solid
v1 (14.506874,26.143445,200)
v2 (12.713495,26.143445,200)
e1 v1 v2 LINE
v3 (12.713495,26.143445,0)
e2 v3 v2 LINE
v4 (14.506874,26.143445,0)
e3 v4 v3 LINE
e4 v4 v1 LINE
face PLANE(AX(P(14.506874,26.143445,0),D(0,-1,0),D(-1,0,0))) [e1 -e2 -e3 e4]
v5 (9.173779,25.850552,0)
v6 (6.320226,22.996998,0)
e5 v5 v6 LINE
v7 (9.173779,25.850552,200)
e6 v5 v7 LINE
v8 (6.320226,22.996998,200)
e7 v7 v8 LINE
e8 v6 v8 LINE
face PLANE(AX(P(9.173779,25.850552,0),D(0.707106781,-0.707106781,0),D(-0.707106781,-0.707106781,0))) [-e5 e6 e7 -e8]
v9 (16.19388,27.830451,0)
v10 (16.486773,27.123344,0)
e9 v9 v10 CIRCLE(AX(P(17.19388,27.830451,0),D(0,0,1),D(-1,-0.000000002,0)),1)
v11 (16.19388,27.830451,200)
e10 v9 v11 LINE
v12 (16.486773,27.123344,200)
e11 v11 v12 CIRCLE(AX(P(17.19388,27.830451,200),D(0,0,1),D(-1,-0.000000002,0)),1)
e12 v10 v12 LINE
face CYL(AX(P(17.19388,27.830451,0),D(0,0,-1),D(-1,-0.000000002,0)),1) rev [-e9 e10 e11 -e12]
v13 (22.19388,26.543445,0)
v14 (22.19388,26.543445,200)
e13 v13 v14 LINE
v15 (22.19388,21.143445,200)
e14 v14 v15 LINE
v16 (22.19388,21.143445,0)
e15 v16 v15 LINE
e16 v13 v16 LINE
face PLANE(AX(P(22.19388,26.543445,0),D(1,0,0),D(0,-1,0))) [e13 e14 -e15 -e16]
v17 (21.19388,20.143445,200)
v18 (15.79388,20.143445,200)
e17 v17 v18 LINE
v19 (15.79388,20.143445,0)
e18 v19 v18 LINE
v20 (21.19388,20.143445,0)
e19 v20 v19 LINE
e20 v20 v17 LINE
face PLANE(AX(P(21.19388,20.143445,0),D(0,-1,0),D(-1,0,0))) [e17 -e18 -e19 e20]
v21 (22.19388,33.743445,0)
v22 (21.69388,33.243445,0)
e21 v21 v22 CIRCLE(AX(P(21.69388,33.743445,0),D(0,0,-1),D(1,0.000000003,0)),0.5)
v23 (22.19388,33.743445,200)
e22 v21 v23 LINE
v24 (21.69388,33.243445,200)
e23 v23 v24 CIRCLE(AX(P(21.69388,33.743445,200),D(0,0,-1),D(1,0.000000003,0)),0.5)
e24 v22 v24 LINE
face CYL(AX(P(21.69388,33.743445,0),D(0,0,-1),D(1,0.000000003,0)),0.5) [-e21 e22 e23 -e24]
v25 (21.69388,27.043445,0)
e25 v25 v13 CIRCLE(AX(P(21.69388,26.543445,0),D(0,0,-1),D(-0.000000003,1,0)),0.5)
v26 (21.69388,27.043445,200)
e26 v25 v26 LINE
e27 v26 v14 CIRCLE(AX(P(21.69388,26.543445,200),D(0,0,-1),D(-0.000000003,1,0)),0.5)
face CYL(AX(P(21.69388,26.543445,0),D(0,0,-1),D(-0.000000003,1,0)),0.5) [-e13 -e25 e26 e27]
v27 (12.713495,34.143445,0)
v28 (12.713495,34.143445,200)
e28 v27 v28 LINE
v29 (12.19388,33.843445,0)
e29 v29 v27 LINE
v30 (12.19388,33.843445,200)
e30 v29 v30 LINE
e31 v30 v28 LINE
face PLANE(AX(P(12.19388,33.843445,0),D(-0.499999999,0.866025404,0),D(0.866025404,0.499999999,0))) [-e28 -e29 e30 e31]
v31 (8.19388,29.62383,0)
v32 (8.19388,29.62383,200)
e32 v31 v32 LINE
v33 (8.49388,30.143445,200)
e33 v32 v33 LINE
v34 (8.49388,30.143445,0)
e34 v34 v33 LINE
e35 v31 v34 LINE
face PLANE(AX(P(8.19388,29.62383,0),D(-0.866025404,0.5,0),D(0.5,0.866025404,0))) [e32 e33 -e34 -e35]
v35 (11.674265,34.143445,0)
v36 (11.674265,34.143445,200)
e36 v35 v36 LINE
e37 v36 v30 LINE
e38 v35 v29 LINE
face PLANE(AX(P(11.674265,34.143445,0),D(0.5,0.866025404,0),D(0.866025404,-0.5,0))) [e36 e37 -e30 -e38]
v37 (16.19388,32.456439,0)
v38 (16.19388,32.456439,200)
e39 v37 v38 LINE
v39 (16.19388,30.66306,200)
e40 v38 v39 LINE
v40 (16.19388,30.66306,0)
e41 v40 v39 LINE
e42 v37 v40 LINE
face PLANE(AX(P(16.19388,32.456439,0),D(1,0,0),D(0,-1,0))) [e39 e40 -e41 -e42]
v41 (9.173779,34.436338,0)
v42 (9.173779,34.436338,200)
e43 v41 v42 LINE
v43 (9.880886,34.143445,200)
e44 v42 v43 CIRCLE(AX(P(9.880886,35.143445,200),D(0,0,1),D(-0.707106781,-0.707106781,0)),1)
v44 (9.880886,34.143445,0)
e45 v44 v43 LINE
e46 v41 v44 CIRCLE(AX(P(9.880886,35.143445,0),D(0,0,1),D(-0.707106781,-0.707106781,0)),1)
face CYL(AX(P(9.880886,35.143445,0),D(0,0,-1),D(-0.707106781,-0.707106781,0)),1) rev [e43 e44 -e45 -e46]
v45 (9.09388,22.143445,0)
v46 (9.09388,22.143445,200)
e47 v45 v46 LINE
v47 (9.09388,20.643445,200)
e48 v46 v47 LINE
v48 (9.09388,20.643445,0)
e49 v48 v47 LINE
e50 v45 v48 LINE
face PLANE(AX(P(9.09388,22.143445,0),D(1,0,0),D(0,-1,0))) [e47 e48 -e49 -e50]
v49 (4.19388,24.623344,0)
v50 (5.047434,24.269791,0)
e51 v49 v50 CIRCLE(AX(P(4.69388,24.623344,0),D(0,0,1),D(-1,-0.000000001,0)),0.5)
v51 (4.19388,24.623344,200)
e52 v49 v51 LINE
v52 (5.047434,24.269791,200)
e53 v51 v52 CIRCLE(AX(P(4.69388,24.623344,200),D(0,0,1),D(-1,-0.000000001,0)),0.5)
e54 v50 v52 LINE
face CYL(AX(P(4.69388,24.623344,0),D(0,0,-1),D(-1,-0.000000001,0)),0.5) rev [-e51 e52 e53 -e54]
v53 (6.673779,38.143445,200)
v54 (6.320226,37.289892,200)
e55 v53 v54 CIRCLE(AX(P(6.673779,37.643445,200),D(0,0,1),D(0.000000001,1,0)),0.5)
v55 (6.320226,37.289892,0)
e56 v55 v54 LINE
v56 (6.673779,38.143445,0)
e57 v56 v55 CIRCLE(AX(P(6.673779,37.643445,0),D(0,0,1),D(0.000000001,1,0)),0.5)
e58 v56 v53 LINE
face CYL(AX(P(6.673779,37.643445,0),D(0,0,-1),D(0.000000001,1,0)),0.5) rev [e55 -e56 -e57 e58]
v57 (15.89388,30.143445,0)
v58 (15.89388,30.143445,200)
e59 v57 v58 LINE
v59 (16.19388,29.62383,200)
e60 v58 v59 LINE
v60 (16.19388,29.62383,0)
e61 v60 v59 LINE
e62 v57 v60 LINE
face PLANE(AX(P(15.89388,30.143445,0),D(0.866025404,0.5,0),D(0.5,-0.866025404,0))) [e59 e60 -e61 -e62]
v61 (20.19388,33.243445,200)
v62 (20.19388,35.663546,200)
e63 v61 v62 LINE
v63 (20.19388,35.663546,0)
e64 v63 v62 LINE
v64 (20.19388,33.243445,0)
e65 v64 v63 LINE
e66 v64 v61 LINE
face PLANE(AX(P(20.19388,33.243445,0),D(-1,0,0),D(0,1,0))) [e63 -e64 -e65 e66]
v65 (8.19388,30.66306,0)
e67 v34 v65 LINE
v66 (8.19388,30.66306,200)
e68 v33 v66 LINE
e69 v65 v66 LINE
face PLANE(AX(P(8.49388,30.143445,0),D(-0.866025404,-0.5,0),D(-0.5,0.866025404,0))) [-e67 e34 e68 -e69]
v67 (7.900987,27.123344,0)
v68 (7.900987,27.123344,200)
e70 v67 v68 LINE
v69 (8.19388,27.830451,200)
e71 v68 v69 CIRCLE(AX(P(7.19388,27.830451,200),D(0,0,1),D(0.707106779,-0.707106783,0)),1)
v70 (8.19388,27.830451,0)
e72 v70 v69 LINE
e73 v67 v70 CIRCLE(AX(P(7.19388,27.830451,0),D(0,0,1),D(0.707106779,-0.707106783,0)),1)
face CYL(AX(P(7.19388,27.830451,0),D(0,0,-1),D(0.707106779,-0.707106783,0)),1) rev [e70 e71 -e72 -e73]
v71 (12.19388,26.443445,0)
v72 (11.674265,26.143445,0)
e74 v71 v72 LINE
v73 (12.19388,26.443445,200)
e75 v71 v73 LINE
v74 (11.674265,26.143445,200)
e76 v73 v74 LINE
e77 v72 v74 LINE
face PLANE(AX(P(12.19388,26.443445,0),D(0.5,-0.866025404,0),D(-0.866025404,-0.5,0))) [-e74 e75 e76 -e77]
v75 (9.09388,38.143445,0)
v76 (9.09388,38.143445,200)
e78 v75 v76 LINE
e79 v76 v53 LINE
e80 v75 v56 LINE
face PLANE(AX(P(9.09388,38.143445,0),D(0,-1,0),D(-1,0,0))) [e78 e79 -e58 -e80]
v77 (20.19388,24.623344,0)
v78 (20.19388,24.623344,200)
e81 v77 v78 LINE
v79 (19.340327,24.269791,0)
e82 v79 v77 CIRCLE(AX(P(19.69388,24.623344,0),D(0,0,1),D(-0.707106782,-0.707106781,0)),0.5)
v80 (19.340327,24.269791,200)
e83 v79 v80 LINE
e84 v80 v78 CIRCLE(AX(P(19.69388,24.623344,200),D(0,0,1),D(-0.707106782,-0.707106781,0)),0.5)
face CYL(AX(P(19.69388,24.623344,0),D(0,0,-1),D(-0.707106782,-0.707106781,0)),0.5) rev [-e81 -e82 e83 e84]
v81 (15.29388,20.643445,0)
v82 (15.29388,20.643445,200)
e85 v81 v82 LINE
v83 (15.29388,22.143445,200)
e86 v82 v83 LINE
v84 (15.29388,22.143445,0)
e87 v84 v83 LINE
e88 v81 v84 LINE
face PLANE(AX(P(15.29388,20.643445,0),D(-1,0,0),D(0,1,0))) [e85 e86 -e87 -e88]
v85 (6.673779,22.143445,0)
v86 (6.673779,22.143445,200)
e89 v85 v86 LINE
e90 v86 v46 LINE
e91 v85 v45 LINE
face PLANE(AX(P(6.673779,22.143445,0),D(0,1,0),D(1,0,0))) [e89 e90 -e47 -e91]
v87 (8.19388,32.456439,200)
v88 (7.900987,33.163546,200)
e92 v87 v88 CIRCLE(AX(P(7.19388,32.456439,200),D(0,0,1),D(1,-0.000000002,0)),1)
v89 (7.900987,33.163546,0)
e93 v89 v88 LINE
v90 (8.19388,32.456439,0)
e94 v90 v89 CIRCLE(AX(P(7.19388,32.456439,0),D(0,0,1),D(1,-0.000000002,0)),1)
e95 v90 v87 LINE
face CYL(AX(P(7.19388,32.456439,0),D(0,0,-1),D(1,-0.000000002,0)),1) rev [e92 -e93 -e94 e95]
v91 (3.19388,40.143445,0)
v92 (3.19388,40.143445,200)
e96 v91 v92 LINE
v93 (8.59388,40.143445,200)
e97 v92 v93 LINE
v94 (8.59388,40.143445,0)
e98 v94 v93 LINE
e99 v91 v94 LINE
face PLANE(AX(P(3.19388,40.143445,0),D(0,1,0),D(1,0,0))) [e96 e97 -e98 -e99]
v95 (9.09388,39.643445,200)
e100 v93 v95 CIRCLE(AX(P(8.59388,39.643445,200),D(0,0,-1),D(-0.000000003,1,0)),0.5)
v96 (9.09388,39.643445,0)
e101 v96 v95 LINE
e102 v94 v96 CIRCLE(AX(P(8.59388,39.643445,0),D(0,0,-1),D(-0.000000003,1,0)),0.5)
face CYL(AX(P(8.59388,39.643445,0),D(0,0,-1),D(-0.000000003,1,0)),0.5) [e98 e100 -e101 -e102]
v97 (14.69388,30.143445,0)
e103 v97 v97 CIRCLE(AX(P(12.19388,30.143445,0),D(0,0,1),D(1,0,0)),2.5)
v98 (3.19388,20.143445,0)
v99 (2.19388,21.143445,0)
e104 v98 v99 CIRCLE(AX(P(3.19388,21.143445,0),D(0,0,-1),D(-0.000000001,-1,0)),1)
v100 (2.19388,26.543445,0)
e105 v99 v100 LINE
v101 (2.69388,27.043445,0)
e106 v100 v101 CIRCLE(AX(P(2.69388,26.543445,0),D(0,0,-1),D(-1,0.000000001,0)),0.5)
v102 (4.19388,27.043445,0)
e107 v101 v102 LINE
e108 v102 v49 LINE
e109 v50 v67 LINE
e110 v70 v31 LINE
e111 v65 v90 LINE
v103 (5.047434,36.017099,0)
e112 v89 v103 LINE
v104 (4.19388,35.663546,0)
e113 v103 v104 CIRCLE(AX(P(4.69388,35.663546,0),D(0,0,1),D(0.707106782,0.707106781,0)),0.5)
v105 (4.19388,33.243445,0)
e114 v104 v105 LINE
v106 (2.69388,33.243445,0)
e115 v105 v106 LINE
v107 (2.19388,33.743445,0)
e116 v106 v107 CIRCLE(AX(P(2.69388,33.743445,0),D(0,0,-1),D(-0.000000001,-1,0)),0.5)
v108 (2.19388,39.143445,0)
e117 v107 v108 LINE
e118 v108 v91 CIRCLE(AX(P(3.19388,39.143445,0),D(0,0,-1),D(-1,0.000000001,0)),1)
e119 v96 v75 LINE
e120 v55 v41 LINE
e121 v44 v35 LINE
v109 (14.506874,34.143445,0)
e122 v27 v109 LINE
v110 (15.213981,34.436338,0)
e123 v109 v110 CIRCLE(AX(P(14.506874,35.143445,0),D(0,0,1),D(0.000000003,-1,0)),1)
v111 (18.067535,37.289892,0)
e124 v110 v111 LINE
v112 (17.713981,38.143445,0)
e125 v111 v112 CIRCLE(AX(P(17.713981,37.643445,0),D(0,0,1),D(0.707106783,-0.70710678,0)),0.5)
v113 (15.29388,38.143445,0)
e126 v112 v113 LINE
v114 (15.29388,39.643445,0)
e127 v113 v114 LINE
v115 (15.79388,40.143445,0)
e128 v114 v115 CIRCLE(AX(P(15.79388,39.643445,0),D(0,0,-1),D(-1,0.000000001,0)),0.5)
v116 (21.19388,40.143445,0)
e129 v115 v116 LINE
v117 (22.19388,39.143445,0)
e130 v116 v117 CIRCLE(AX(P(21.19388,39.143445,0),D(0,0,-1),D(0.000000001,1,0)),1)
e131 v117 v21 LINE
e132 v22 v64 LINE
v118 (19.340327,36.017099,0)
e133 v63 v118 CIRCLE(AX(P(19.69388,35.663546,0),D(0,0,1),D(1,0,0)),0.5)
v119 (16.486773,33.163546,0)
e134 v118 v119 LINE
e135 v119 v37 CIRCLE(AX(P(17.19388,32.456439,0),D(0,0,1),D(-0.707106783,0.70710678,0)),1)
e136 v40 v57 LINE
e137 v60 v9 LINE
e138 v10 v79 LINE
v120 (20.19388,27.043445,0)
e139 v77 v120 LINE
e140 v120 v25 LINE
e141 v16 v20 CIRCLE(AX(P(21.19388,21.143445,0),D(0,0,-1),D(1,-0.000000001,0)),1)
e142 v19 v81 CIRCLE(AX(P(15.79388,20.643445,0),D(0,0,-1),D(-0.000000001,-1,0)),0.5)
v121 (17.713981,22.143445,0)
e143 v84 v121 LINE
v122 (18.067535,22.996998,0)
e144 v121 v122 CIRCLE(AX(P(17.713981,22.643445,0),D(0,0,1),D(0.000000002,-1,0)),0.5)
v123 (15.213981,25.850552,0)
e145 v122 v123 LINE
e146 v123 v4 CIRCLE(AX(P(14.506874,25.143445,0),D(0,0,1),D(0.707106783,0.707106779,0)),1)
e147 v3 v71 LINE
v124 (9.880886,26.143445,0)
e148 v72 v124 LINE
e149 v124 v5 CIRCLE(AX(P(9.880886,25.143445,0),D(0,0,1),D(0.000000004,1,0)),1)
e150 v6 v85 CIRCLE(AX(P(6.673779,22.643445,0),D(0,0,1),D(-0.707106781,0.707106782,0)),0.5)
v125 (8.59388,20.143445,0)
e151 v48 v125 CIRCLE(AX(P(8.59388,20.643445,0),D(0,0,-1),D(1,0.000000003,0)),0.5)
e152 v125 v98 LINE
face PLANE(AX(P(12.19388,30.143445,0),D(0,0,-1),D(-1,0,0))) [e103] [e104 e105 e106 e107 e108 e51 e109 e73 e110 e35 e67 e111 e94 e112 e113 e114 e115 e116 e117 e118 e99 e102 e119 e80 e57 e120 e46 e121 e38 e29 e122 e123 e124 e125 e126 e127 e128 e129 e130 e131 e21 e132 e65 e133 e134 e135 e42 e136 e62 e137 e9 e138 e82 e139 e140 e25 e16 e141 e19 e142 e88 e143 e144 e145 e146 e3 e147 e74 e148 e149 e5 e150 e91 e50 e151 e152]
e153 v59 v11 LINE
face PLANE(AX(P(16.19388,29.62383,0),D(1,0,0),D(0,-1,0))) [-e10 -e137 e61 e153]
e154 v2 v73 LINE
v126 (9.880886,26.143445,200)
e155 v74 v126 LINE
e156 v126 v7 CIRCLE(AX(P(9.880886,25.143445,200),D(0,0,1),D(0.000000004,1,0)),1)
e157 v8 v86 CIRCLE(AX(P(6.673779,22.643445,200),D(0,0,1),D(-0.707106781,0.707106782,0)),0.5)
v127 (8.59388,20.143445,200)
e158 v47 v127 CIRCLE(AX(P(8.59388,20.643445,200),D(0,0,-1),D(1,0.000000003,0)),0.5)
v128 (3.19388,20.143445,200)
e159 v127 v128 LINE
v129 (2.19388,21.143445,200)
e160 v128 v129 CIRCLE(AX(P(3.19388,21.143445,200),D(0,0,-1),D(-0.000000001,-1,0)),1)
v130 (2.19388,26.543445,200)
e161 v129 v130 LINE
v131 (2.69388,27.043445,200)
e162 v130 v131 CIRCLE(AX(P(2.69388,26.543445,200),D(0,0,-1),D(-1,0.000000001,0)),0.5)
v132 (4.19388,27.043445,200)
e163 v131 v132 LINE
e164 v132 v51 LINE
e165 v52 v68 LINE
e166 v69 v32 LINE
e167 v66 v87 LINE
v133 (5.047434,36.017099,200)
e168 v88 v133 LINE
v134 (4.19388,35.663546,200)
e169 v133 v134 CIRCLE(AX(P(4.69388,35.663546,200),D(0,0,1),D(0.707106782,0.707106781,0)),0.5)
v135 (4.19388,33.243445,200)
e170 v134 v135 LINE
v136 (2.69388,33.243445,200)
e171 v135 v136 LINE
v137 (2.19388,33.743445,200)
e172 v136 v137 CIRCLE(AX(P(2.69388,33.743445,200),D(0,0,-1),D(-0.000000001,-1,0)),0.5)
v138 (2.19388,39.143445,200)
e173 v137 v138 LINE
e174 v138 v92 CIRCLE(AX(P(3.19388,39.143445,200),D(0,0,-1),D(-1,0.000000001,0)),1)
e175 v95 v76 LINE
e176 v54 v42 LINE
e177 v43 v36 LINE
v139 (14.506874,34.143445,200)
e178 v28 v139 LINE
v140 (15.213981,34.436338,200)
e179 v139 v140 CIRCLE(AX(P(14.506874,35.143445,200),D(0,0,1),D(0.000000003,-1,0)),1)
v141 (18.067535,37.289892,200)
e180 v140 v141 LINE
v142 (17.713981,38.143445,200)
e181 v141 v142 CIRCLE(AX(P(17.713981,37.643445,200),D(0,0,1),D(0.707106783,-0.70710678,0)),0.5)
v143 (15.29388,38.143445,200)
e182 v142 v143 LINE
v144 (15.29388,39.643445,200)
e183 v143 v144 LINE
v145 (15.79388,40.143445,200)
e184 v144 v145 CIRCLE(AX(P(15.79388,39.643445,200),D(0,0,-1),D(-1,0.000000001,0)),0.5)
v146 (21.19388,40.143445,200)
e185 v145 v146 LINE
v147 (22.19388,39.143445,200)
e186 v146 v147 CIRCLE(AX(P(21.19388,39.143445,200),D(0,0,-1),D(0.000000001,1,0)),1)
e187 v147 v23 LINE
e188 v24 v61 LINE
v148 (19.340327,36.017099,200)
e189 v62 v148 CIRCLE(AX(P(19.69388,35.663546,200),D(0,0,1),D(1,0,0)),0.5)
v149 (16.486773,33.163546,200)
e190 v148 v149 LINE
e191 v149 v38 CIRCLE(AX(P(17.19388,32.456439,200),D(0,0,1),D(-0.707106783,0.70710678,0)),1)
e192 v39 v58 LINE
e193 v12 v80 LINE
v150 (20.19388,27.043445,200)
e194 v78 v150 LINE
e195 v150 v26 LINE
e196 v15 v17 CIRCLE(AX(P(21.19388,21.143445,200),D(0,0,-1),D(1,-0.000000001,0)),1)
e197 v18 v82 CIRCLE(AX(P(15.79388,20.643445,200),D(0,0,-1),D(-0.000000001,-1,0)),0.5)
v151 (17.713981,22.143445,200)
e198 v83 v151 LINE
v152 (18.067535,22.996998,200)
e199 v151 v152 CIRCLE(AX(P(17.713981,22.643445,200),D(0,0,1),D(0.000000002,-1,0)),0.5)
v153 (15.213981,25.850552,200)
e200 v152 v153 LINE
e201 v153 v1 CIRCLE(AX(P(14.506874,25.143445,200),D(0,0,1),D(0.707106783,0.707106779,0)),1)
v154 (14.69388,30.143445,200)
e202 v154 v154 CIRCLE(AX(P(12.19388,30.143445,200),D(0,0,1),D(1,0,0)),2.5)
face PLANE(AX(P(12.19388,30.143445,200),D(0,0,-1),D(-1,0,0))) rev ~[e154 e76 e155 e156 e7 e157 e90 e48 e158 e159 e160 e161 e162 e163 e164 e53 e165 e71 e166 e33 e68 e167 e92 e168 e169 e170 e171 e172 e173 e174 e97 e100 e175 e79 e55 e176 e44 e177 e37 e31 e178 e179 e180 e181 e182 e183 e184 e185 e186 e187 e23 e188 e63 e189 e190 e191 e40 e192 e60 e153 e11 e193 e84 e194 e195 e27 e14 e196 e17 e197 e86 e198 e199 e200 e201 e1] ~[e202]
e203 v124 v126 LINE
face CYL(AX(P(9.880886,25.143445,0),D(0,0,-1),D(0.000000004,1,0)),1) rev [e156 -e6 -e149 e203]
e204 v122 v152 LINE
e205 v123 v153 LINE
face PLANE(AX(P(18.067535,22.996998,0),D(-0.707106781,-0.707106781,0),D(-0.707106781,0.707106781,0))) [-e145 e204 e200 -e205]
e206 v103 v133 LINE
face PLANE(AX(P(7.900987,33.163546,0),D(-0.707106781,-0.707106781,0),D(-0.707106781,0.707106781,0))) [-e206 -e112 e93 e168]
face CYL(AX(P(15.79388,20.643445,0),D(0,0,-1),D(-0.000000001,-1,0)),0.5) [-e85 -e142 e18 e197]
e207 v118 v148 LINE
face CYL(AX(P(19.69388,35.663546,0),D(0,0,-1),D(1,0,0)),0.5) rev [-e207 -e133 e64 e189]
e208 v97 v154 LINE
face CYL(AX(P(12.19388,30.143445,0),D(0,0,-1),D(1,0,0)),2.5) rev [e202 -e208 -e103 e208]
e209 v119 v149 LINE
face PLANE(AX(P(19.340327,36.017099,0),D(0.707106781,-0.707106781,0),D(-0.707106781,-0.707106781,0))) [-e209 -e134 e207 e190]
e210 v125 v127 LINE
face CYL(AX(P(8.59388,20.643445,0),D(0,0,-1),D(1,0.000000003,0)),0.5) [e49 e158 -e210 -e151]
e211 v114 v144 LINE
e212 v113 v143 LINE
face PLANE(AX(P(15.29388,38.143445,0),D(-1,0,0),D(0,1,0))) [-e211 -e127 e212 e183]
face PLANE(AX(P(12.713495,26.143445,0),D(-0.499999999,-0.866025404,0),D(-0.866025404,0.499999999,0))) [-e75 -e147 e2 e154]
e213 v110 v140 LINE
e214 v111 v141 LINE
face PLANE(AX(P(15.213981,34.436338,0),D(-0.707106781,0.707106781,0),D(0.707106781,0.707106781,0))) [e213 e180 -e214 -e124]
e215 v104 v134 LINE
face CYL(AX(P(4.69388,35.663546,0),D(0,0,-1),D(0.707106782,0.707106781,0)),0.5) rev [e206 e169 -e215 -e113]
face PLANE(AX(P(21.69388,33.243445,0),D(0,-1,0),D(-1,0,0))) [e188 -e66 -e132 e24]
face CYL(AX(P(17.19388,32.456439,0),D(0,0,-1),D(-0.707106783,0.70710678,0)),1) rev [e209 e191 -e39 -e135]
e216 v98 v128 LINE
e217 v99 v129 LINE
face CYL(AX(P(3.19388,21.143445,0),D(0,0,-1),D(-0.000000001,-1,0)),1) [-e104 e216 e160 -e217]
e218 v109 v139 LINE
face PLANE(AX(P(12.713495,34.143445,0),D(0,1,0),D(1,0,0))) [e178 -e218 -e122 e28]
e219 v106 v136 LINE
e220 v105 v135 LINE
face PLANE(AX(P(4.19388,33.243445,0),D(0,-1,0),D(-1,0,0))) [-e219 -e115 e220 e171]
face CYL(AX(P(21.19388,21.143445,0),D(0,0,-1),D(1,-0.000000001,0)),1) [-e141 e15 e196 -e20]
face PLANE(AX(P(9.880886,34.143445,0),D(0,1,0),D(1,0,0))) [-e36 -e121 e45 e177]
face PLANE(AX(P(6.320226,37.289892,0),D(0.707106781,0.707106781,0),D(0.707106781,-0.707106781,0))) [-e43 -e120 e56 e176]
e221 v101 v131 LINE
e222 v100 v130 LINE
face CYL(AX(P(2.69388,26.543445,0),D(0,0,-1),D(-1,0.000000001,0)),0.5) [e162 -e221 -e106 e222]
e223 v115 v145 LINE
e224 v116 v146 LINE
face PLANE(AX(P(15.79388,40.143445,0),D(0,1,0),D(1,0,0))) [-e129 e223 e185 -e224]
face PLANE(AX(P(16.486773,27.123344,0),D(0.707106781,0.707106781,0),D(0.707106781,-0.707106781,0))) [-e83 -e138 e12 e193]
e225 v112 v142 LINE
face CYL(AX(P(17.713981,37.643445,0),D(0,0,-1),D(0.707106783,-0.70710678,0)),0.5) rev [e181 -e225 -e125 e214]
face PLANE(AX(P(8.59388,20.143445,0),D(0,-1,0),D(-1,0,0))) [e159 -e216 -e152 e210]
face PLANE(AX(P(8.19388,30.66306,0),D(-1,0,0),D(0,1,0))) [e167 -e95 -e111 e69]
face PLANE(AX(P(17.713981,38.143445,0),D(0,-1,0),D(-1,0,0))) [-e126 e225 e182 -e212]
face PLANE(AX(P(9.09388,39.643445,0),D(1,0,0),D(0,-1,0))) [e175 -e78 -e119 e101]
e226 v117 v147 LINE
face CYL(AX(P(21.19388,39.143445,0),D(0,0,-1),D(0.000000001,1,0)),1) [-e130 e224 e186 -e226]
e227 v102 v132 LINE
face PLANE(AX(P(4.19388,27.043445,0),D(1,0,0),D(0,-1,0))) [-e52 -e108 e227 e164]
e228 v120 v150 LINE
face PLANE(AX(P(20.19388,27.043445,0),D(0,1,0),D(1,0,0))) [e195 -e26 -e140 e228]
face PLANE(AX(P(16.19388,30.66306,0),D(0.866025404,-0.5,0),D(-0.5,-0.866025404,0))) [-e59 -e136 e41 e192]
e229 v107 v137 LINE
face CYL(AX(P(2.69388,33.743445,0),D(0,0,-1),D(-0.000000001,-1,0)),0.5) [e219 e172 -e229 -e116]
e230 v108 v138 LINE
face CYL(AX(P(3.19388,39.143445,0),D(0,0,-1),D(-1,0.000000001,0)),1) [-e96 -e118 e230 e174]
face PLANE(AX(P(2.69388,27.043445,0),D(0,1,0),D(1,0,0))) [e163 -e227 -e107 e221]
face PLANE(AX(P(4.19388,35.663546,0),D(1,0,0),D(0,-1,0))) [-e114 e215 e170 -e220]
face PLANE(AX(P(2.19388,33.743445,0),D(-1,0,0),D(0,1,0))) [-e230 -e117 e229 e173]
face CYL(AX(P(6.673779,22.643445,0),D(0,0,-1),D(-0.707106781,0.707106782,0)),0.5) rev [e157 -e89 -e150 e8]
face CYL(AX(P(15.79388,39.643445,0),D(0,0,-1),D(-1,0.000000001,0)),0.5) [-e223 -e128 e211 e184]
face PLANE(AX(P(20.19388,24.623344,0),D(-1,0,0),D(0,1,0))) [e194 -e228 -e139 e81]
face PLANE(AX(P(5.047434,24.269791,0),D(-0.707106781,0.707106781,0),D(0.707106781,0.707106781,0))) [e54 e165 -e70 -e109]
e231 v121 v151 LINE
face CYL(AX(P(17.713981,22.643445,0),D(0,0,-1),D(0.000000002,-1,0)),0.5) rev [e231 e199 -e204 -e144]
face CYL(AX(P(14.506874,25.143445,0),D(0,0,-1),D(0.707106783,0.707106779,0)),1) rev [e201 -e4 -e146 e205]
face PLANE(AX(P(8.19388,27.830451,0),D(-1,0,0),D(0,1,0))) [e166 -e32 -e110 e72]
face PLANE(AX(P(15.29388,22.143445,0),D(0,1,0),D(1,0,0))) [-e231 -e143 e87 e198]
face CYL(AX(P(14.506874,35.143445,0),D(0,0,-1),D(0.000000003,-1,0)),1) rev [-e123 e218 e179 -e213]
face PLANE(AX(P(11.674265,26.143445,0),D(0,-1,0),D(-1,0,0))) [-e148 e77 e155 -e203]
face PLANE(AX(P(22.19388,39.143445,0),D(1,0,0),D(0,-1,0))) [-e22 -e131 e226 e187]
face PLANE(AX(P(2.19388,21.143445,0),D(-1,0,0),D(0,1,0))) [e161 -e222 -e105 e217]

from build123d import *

# Parameters (mm, degrees)
SKETCH_1_R      = 2.5
EXTRUDE_1_DEPTH = 200


with BuildPart() as part:
    # 草图1 → 凸台-拉伸1 (new body)
    with BuildSketch(Plane.XY):
        with BuildLine():
            Line((16.486773435, 27.123343944), (19.340326826, 24.269790554))
            ThreePointArc((19.340326826, 24.269790554), (19.885221932, 24.161404178), (20.193880216, 24.623343944))
            Line((20.193880216, 24.623343944), (20.193880216, 27.043444957))
            Line((20.193880216, 27.043444957), (21.693880216, 27.043444957))
            ThreePointArc((21.693880216, 27.043444957), (22.047433607, 26.896998348), (22.193880216, 26.543444957))
            Line((22.193880216, 26.543444957), (22.193880216, 21.143444957))
            ThreePointArc((22.193880216, 21.143444957), (21.900986997, 20.436338176), (21.193880216, 20.143444957))
            Line((21.193880216, 20.143444957), (15.793880216, 20.143444957))
            ThreePointArc((15.793880216, 20.143444957), (15.440326826, 20.289891566), (15.293880216, 20.643444957))
            Line((15.293880216, 20.643444957), (15.293880216, 22.143444957))
            Line((15.293880216, 22.143444957), (17.713981229, 22.143444957))
            ThreePointArc((17.713981229, 22.143444957), (18.175920995, 22.452103241), (18.06753462, 22.996998348))
            Line((18.06753462, 22.996998348), (15.213981229, 25.850551738))
            ThreePointArc((15.213981229, 25.850551738), (14.88955788, 26.06732449), (14.506874448, 26.143444957))
            Line((14.506874448, 26.143444957), (12.713495459, 26.143444957))
            Line((12.713495459, 26.143444957), (12.193880216, 26.443444957))
            Line((12.193880216, 26.443444957), (11.674264974, 26.143444957))
            Line((11.674264974, 26.143444957), (9.880885985, 26.143444957))
            ThreePointArc((9.880885985, 26.143444957), (9.498202552, 26.06732449), (9.173779204, 25.850551738))
            Line((9.173779204, 25.850551738), (6.320225813, 22.996998348))
            ThreePointArc((6.320225813, 22.996998348), (6.211839437, 22.452103241), (6.673779204, 22.143444957))
            Line((6.673779204, 22.143444957), (9.093880216, 22.143444957))
            Line((9.093880216, 22.143444957), (9.093880216, 20.643444957))
            ThreePointArc((9.093880216, 20.643444957), (8.947433607, 20.289891566), (8.593880216, 20.143444957))
            Line((8.593880216, 20.143444957), (3.193880216, 20.143444957))
            ThreePointArc((3.193880216, 20.143444957), (2.486773435, 20.436338176), (2.193880216, 21.143444957))
            Line((2.193880216, 21.143444957), (2.193880216, 26.543444957))
            ThreePointArc((2.193880216, 26.543444957), (2.340326826, 26.896998348), (2.693880216, 27.043444957))
            Line((2.693880216, 27.043444957), (4.193880216, 27.043444957))
            Line((4.193880216, 27.043444957), (4.193880216, 24.623343944))
            ThreePointArc((4.193880216, 24.623343944), (4.5025385, 24.161404178), (5.047433607, 24.269790554))
            Line((5.047433607, 24.269790554), (7.900986997, 27.123343944))
            ThreePointArc((7.900986997, 27.123343944), (8.117759749, 27.447767293), (8.193880216, 27.830450726))
            Line((8.193880216, 27.830450726), (8.193880216, 29.623829715))
            Line((8.193880216, 29.623829715), (8.493880216, 30.143444957))
            Line((8.493880216, 30.143444957), (8.193880216, 30.663060199))
            Line((8.193880216, 30.663060199), (8.193880216, 32.456439189))
            ThreePointArc((8.193880216, 32.456439189), (8.117759749, 32.839122621), (7.900986997, 33.16354597))
            Line((7.900986997, 33.16354597), (5.047433607, 36.01709936))
            ThreePointArc((5.047433607, 36.01709936), (4.5025385, 36.125485736), (4.193880216, 35.66354597))
            Line((4.193880216, 35.66354597), (4.193880216, 33.243444957))
            Line((4.193880216, 33.243444957), (2.693880216, 33.243444957))
            ThreePointArc((2.693880216, 33.243444957), (2.340326826, 33.389891566), (2.193880216, 33.743444957))
            Line((2.193880216, 33.743444957), (2.193880216, 39.143444957))
            ThreePointArc((2.193880216, 39.143444957), (2.486773435, 39.850551738), (3.193880216, 40.143444957))
            Line((3.193880216, 40.143444957), (8.593880216, 40.143444957))
            ThreePointArc((8.593880216, 40.143444957), (8.947433607, 39.996998348), (9.093880216, 39.643444957))
            Line((9.093880216, 39.643444957), (9.093880216, 38.143444957))
            Line((9.093880216, 38.143444957), (6.673779204, 38.143444957))
            ThreePointArc((6.673779204, 38.143444957), (6.211839437, 37.834786673), (6.320225813, 37.289891566))
            Line((6.320225813, 37.289891566), (9.173779204, 34.436338176))
            ThreePointArc((9.173779204, 34.436338176), (9.498202552, 34.219565425), (9.880885985, 34.143444957))
            Line((9.880885985, 34.143444957), (11.674264974, 34.143444957))
            Line((11.674264974, 34.143444957), (12.193880216, 33.843444957))
            Line((12.193880216, 33.843444957), (12.713495459, 34.143444957))
            Line((12.713495459, 34.143444957), (14.506874448, 34.143444957))
            ThreePointArc((14.506874448, 34.143444957), (14.88955788, 34.219565425), (15.213981229, 34.436338176))
            Line((15.213981229, 34.436338176), (18.06753462, 37.289891566))
            ThreePointArc((18.06753462, 37.289891566), (18.175920995, 37.834786673), (17.713981229, 38.143444957))
            Line((17.713981229, 38.143444957), (15.293880216, 38.143444957))
            Line((15.293880216, 38.143444957), (15.293880216, 39.643444957))
            ThreePointArc((15.293880216, 39.643444957), (15.440326826, 39.996998348), (15.793880216, 40.143444957))
            Line((15.793880216, 40.143444957), (21.193880216, 40.143444957))
            ThreePointArc((21.193880216, 40.143444957), (21.900986997, 39.850551738), (22.193880216, 39.143444957))
            Line((22.193880216, 39.143444957), (22.193880216, 33.743444957))
            ThreePointArc((22.193880216, 33.743444957), (22.047433607, 33.389891566), (21.693880216, 33.243444957))
            Line((21.693880216, 33.243444957), (20.193880216, 33.243444957))
            Line((20.193880216, 33.243444957), (20.193880216, 35.66354597))
            ThreePointArc((20.193880216, 35.66354597), (19.885221932, 36.125485736), (19.340326826, 36.01709936))
            Line((19.340326826, 36.01709936), (16.486773435, 33.16354597))
            ThreePointArc((16.486773435, 33.16354597), (16.270000684, 32.839122621), (16.193880216, 32.456439189))
            Line((16.193880216, 32.456439189), (16.193880216, 30.663060199))
            Line((16.193880216, 30.663060199), (15.893880216, 30.143444957))
            Line((15.893880216, 30.143444957), (16.193880216, 29.623829715))
            Line((16.193880216, 29.623829715), (16.193880216, 27.830450726))
            ThreePointArc((16.193880216, 27.830450726), (16.270000684, 27.447767293), (16.486773435, 27.123343944))
        make_face()
        with Locations((12.193880216, 30.143444957)):
            Circle(SKETCH_1_R, mode=Mode.SUBTRACT)
    extrude(amount=EXTRUDE_1_DEPTH)


solid = part.part
